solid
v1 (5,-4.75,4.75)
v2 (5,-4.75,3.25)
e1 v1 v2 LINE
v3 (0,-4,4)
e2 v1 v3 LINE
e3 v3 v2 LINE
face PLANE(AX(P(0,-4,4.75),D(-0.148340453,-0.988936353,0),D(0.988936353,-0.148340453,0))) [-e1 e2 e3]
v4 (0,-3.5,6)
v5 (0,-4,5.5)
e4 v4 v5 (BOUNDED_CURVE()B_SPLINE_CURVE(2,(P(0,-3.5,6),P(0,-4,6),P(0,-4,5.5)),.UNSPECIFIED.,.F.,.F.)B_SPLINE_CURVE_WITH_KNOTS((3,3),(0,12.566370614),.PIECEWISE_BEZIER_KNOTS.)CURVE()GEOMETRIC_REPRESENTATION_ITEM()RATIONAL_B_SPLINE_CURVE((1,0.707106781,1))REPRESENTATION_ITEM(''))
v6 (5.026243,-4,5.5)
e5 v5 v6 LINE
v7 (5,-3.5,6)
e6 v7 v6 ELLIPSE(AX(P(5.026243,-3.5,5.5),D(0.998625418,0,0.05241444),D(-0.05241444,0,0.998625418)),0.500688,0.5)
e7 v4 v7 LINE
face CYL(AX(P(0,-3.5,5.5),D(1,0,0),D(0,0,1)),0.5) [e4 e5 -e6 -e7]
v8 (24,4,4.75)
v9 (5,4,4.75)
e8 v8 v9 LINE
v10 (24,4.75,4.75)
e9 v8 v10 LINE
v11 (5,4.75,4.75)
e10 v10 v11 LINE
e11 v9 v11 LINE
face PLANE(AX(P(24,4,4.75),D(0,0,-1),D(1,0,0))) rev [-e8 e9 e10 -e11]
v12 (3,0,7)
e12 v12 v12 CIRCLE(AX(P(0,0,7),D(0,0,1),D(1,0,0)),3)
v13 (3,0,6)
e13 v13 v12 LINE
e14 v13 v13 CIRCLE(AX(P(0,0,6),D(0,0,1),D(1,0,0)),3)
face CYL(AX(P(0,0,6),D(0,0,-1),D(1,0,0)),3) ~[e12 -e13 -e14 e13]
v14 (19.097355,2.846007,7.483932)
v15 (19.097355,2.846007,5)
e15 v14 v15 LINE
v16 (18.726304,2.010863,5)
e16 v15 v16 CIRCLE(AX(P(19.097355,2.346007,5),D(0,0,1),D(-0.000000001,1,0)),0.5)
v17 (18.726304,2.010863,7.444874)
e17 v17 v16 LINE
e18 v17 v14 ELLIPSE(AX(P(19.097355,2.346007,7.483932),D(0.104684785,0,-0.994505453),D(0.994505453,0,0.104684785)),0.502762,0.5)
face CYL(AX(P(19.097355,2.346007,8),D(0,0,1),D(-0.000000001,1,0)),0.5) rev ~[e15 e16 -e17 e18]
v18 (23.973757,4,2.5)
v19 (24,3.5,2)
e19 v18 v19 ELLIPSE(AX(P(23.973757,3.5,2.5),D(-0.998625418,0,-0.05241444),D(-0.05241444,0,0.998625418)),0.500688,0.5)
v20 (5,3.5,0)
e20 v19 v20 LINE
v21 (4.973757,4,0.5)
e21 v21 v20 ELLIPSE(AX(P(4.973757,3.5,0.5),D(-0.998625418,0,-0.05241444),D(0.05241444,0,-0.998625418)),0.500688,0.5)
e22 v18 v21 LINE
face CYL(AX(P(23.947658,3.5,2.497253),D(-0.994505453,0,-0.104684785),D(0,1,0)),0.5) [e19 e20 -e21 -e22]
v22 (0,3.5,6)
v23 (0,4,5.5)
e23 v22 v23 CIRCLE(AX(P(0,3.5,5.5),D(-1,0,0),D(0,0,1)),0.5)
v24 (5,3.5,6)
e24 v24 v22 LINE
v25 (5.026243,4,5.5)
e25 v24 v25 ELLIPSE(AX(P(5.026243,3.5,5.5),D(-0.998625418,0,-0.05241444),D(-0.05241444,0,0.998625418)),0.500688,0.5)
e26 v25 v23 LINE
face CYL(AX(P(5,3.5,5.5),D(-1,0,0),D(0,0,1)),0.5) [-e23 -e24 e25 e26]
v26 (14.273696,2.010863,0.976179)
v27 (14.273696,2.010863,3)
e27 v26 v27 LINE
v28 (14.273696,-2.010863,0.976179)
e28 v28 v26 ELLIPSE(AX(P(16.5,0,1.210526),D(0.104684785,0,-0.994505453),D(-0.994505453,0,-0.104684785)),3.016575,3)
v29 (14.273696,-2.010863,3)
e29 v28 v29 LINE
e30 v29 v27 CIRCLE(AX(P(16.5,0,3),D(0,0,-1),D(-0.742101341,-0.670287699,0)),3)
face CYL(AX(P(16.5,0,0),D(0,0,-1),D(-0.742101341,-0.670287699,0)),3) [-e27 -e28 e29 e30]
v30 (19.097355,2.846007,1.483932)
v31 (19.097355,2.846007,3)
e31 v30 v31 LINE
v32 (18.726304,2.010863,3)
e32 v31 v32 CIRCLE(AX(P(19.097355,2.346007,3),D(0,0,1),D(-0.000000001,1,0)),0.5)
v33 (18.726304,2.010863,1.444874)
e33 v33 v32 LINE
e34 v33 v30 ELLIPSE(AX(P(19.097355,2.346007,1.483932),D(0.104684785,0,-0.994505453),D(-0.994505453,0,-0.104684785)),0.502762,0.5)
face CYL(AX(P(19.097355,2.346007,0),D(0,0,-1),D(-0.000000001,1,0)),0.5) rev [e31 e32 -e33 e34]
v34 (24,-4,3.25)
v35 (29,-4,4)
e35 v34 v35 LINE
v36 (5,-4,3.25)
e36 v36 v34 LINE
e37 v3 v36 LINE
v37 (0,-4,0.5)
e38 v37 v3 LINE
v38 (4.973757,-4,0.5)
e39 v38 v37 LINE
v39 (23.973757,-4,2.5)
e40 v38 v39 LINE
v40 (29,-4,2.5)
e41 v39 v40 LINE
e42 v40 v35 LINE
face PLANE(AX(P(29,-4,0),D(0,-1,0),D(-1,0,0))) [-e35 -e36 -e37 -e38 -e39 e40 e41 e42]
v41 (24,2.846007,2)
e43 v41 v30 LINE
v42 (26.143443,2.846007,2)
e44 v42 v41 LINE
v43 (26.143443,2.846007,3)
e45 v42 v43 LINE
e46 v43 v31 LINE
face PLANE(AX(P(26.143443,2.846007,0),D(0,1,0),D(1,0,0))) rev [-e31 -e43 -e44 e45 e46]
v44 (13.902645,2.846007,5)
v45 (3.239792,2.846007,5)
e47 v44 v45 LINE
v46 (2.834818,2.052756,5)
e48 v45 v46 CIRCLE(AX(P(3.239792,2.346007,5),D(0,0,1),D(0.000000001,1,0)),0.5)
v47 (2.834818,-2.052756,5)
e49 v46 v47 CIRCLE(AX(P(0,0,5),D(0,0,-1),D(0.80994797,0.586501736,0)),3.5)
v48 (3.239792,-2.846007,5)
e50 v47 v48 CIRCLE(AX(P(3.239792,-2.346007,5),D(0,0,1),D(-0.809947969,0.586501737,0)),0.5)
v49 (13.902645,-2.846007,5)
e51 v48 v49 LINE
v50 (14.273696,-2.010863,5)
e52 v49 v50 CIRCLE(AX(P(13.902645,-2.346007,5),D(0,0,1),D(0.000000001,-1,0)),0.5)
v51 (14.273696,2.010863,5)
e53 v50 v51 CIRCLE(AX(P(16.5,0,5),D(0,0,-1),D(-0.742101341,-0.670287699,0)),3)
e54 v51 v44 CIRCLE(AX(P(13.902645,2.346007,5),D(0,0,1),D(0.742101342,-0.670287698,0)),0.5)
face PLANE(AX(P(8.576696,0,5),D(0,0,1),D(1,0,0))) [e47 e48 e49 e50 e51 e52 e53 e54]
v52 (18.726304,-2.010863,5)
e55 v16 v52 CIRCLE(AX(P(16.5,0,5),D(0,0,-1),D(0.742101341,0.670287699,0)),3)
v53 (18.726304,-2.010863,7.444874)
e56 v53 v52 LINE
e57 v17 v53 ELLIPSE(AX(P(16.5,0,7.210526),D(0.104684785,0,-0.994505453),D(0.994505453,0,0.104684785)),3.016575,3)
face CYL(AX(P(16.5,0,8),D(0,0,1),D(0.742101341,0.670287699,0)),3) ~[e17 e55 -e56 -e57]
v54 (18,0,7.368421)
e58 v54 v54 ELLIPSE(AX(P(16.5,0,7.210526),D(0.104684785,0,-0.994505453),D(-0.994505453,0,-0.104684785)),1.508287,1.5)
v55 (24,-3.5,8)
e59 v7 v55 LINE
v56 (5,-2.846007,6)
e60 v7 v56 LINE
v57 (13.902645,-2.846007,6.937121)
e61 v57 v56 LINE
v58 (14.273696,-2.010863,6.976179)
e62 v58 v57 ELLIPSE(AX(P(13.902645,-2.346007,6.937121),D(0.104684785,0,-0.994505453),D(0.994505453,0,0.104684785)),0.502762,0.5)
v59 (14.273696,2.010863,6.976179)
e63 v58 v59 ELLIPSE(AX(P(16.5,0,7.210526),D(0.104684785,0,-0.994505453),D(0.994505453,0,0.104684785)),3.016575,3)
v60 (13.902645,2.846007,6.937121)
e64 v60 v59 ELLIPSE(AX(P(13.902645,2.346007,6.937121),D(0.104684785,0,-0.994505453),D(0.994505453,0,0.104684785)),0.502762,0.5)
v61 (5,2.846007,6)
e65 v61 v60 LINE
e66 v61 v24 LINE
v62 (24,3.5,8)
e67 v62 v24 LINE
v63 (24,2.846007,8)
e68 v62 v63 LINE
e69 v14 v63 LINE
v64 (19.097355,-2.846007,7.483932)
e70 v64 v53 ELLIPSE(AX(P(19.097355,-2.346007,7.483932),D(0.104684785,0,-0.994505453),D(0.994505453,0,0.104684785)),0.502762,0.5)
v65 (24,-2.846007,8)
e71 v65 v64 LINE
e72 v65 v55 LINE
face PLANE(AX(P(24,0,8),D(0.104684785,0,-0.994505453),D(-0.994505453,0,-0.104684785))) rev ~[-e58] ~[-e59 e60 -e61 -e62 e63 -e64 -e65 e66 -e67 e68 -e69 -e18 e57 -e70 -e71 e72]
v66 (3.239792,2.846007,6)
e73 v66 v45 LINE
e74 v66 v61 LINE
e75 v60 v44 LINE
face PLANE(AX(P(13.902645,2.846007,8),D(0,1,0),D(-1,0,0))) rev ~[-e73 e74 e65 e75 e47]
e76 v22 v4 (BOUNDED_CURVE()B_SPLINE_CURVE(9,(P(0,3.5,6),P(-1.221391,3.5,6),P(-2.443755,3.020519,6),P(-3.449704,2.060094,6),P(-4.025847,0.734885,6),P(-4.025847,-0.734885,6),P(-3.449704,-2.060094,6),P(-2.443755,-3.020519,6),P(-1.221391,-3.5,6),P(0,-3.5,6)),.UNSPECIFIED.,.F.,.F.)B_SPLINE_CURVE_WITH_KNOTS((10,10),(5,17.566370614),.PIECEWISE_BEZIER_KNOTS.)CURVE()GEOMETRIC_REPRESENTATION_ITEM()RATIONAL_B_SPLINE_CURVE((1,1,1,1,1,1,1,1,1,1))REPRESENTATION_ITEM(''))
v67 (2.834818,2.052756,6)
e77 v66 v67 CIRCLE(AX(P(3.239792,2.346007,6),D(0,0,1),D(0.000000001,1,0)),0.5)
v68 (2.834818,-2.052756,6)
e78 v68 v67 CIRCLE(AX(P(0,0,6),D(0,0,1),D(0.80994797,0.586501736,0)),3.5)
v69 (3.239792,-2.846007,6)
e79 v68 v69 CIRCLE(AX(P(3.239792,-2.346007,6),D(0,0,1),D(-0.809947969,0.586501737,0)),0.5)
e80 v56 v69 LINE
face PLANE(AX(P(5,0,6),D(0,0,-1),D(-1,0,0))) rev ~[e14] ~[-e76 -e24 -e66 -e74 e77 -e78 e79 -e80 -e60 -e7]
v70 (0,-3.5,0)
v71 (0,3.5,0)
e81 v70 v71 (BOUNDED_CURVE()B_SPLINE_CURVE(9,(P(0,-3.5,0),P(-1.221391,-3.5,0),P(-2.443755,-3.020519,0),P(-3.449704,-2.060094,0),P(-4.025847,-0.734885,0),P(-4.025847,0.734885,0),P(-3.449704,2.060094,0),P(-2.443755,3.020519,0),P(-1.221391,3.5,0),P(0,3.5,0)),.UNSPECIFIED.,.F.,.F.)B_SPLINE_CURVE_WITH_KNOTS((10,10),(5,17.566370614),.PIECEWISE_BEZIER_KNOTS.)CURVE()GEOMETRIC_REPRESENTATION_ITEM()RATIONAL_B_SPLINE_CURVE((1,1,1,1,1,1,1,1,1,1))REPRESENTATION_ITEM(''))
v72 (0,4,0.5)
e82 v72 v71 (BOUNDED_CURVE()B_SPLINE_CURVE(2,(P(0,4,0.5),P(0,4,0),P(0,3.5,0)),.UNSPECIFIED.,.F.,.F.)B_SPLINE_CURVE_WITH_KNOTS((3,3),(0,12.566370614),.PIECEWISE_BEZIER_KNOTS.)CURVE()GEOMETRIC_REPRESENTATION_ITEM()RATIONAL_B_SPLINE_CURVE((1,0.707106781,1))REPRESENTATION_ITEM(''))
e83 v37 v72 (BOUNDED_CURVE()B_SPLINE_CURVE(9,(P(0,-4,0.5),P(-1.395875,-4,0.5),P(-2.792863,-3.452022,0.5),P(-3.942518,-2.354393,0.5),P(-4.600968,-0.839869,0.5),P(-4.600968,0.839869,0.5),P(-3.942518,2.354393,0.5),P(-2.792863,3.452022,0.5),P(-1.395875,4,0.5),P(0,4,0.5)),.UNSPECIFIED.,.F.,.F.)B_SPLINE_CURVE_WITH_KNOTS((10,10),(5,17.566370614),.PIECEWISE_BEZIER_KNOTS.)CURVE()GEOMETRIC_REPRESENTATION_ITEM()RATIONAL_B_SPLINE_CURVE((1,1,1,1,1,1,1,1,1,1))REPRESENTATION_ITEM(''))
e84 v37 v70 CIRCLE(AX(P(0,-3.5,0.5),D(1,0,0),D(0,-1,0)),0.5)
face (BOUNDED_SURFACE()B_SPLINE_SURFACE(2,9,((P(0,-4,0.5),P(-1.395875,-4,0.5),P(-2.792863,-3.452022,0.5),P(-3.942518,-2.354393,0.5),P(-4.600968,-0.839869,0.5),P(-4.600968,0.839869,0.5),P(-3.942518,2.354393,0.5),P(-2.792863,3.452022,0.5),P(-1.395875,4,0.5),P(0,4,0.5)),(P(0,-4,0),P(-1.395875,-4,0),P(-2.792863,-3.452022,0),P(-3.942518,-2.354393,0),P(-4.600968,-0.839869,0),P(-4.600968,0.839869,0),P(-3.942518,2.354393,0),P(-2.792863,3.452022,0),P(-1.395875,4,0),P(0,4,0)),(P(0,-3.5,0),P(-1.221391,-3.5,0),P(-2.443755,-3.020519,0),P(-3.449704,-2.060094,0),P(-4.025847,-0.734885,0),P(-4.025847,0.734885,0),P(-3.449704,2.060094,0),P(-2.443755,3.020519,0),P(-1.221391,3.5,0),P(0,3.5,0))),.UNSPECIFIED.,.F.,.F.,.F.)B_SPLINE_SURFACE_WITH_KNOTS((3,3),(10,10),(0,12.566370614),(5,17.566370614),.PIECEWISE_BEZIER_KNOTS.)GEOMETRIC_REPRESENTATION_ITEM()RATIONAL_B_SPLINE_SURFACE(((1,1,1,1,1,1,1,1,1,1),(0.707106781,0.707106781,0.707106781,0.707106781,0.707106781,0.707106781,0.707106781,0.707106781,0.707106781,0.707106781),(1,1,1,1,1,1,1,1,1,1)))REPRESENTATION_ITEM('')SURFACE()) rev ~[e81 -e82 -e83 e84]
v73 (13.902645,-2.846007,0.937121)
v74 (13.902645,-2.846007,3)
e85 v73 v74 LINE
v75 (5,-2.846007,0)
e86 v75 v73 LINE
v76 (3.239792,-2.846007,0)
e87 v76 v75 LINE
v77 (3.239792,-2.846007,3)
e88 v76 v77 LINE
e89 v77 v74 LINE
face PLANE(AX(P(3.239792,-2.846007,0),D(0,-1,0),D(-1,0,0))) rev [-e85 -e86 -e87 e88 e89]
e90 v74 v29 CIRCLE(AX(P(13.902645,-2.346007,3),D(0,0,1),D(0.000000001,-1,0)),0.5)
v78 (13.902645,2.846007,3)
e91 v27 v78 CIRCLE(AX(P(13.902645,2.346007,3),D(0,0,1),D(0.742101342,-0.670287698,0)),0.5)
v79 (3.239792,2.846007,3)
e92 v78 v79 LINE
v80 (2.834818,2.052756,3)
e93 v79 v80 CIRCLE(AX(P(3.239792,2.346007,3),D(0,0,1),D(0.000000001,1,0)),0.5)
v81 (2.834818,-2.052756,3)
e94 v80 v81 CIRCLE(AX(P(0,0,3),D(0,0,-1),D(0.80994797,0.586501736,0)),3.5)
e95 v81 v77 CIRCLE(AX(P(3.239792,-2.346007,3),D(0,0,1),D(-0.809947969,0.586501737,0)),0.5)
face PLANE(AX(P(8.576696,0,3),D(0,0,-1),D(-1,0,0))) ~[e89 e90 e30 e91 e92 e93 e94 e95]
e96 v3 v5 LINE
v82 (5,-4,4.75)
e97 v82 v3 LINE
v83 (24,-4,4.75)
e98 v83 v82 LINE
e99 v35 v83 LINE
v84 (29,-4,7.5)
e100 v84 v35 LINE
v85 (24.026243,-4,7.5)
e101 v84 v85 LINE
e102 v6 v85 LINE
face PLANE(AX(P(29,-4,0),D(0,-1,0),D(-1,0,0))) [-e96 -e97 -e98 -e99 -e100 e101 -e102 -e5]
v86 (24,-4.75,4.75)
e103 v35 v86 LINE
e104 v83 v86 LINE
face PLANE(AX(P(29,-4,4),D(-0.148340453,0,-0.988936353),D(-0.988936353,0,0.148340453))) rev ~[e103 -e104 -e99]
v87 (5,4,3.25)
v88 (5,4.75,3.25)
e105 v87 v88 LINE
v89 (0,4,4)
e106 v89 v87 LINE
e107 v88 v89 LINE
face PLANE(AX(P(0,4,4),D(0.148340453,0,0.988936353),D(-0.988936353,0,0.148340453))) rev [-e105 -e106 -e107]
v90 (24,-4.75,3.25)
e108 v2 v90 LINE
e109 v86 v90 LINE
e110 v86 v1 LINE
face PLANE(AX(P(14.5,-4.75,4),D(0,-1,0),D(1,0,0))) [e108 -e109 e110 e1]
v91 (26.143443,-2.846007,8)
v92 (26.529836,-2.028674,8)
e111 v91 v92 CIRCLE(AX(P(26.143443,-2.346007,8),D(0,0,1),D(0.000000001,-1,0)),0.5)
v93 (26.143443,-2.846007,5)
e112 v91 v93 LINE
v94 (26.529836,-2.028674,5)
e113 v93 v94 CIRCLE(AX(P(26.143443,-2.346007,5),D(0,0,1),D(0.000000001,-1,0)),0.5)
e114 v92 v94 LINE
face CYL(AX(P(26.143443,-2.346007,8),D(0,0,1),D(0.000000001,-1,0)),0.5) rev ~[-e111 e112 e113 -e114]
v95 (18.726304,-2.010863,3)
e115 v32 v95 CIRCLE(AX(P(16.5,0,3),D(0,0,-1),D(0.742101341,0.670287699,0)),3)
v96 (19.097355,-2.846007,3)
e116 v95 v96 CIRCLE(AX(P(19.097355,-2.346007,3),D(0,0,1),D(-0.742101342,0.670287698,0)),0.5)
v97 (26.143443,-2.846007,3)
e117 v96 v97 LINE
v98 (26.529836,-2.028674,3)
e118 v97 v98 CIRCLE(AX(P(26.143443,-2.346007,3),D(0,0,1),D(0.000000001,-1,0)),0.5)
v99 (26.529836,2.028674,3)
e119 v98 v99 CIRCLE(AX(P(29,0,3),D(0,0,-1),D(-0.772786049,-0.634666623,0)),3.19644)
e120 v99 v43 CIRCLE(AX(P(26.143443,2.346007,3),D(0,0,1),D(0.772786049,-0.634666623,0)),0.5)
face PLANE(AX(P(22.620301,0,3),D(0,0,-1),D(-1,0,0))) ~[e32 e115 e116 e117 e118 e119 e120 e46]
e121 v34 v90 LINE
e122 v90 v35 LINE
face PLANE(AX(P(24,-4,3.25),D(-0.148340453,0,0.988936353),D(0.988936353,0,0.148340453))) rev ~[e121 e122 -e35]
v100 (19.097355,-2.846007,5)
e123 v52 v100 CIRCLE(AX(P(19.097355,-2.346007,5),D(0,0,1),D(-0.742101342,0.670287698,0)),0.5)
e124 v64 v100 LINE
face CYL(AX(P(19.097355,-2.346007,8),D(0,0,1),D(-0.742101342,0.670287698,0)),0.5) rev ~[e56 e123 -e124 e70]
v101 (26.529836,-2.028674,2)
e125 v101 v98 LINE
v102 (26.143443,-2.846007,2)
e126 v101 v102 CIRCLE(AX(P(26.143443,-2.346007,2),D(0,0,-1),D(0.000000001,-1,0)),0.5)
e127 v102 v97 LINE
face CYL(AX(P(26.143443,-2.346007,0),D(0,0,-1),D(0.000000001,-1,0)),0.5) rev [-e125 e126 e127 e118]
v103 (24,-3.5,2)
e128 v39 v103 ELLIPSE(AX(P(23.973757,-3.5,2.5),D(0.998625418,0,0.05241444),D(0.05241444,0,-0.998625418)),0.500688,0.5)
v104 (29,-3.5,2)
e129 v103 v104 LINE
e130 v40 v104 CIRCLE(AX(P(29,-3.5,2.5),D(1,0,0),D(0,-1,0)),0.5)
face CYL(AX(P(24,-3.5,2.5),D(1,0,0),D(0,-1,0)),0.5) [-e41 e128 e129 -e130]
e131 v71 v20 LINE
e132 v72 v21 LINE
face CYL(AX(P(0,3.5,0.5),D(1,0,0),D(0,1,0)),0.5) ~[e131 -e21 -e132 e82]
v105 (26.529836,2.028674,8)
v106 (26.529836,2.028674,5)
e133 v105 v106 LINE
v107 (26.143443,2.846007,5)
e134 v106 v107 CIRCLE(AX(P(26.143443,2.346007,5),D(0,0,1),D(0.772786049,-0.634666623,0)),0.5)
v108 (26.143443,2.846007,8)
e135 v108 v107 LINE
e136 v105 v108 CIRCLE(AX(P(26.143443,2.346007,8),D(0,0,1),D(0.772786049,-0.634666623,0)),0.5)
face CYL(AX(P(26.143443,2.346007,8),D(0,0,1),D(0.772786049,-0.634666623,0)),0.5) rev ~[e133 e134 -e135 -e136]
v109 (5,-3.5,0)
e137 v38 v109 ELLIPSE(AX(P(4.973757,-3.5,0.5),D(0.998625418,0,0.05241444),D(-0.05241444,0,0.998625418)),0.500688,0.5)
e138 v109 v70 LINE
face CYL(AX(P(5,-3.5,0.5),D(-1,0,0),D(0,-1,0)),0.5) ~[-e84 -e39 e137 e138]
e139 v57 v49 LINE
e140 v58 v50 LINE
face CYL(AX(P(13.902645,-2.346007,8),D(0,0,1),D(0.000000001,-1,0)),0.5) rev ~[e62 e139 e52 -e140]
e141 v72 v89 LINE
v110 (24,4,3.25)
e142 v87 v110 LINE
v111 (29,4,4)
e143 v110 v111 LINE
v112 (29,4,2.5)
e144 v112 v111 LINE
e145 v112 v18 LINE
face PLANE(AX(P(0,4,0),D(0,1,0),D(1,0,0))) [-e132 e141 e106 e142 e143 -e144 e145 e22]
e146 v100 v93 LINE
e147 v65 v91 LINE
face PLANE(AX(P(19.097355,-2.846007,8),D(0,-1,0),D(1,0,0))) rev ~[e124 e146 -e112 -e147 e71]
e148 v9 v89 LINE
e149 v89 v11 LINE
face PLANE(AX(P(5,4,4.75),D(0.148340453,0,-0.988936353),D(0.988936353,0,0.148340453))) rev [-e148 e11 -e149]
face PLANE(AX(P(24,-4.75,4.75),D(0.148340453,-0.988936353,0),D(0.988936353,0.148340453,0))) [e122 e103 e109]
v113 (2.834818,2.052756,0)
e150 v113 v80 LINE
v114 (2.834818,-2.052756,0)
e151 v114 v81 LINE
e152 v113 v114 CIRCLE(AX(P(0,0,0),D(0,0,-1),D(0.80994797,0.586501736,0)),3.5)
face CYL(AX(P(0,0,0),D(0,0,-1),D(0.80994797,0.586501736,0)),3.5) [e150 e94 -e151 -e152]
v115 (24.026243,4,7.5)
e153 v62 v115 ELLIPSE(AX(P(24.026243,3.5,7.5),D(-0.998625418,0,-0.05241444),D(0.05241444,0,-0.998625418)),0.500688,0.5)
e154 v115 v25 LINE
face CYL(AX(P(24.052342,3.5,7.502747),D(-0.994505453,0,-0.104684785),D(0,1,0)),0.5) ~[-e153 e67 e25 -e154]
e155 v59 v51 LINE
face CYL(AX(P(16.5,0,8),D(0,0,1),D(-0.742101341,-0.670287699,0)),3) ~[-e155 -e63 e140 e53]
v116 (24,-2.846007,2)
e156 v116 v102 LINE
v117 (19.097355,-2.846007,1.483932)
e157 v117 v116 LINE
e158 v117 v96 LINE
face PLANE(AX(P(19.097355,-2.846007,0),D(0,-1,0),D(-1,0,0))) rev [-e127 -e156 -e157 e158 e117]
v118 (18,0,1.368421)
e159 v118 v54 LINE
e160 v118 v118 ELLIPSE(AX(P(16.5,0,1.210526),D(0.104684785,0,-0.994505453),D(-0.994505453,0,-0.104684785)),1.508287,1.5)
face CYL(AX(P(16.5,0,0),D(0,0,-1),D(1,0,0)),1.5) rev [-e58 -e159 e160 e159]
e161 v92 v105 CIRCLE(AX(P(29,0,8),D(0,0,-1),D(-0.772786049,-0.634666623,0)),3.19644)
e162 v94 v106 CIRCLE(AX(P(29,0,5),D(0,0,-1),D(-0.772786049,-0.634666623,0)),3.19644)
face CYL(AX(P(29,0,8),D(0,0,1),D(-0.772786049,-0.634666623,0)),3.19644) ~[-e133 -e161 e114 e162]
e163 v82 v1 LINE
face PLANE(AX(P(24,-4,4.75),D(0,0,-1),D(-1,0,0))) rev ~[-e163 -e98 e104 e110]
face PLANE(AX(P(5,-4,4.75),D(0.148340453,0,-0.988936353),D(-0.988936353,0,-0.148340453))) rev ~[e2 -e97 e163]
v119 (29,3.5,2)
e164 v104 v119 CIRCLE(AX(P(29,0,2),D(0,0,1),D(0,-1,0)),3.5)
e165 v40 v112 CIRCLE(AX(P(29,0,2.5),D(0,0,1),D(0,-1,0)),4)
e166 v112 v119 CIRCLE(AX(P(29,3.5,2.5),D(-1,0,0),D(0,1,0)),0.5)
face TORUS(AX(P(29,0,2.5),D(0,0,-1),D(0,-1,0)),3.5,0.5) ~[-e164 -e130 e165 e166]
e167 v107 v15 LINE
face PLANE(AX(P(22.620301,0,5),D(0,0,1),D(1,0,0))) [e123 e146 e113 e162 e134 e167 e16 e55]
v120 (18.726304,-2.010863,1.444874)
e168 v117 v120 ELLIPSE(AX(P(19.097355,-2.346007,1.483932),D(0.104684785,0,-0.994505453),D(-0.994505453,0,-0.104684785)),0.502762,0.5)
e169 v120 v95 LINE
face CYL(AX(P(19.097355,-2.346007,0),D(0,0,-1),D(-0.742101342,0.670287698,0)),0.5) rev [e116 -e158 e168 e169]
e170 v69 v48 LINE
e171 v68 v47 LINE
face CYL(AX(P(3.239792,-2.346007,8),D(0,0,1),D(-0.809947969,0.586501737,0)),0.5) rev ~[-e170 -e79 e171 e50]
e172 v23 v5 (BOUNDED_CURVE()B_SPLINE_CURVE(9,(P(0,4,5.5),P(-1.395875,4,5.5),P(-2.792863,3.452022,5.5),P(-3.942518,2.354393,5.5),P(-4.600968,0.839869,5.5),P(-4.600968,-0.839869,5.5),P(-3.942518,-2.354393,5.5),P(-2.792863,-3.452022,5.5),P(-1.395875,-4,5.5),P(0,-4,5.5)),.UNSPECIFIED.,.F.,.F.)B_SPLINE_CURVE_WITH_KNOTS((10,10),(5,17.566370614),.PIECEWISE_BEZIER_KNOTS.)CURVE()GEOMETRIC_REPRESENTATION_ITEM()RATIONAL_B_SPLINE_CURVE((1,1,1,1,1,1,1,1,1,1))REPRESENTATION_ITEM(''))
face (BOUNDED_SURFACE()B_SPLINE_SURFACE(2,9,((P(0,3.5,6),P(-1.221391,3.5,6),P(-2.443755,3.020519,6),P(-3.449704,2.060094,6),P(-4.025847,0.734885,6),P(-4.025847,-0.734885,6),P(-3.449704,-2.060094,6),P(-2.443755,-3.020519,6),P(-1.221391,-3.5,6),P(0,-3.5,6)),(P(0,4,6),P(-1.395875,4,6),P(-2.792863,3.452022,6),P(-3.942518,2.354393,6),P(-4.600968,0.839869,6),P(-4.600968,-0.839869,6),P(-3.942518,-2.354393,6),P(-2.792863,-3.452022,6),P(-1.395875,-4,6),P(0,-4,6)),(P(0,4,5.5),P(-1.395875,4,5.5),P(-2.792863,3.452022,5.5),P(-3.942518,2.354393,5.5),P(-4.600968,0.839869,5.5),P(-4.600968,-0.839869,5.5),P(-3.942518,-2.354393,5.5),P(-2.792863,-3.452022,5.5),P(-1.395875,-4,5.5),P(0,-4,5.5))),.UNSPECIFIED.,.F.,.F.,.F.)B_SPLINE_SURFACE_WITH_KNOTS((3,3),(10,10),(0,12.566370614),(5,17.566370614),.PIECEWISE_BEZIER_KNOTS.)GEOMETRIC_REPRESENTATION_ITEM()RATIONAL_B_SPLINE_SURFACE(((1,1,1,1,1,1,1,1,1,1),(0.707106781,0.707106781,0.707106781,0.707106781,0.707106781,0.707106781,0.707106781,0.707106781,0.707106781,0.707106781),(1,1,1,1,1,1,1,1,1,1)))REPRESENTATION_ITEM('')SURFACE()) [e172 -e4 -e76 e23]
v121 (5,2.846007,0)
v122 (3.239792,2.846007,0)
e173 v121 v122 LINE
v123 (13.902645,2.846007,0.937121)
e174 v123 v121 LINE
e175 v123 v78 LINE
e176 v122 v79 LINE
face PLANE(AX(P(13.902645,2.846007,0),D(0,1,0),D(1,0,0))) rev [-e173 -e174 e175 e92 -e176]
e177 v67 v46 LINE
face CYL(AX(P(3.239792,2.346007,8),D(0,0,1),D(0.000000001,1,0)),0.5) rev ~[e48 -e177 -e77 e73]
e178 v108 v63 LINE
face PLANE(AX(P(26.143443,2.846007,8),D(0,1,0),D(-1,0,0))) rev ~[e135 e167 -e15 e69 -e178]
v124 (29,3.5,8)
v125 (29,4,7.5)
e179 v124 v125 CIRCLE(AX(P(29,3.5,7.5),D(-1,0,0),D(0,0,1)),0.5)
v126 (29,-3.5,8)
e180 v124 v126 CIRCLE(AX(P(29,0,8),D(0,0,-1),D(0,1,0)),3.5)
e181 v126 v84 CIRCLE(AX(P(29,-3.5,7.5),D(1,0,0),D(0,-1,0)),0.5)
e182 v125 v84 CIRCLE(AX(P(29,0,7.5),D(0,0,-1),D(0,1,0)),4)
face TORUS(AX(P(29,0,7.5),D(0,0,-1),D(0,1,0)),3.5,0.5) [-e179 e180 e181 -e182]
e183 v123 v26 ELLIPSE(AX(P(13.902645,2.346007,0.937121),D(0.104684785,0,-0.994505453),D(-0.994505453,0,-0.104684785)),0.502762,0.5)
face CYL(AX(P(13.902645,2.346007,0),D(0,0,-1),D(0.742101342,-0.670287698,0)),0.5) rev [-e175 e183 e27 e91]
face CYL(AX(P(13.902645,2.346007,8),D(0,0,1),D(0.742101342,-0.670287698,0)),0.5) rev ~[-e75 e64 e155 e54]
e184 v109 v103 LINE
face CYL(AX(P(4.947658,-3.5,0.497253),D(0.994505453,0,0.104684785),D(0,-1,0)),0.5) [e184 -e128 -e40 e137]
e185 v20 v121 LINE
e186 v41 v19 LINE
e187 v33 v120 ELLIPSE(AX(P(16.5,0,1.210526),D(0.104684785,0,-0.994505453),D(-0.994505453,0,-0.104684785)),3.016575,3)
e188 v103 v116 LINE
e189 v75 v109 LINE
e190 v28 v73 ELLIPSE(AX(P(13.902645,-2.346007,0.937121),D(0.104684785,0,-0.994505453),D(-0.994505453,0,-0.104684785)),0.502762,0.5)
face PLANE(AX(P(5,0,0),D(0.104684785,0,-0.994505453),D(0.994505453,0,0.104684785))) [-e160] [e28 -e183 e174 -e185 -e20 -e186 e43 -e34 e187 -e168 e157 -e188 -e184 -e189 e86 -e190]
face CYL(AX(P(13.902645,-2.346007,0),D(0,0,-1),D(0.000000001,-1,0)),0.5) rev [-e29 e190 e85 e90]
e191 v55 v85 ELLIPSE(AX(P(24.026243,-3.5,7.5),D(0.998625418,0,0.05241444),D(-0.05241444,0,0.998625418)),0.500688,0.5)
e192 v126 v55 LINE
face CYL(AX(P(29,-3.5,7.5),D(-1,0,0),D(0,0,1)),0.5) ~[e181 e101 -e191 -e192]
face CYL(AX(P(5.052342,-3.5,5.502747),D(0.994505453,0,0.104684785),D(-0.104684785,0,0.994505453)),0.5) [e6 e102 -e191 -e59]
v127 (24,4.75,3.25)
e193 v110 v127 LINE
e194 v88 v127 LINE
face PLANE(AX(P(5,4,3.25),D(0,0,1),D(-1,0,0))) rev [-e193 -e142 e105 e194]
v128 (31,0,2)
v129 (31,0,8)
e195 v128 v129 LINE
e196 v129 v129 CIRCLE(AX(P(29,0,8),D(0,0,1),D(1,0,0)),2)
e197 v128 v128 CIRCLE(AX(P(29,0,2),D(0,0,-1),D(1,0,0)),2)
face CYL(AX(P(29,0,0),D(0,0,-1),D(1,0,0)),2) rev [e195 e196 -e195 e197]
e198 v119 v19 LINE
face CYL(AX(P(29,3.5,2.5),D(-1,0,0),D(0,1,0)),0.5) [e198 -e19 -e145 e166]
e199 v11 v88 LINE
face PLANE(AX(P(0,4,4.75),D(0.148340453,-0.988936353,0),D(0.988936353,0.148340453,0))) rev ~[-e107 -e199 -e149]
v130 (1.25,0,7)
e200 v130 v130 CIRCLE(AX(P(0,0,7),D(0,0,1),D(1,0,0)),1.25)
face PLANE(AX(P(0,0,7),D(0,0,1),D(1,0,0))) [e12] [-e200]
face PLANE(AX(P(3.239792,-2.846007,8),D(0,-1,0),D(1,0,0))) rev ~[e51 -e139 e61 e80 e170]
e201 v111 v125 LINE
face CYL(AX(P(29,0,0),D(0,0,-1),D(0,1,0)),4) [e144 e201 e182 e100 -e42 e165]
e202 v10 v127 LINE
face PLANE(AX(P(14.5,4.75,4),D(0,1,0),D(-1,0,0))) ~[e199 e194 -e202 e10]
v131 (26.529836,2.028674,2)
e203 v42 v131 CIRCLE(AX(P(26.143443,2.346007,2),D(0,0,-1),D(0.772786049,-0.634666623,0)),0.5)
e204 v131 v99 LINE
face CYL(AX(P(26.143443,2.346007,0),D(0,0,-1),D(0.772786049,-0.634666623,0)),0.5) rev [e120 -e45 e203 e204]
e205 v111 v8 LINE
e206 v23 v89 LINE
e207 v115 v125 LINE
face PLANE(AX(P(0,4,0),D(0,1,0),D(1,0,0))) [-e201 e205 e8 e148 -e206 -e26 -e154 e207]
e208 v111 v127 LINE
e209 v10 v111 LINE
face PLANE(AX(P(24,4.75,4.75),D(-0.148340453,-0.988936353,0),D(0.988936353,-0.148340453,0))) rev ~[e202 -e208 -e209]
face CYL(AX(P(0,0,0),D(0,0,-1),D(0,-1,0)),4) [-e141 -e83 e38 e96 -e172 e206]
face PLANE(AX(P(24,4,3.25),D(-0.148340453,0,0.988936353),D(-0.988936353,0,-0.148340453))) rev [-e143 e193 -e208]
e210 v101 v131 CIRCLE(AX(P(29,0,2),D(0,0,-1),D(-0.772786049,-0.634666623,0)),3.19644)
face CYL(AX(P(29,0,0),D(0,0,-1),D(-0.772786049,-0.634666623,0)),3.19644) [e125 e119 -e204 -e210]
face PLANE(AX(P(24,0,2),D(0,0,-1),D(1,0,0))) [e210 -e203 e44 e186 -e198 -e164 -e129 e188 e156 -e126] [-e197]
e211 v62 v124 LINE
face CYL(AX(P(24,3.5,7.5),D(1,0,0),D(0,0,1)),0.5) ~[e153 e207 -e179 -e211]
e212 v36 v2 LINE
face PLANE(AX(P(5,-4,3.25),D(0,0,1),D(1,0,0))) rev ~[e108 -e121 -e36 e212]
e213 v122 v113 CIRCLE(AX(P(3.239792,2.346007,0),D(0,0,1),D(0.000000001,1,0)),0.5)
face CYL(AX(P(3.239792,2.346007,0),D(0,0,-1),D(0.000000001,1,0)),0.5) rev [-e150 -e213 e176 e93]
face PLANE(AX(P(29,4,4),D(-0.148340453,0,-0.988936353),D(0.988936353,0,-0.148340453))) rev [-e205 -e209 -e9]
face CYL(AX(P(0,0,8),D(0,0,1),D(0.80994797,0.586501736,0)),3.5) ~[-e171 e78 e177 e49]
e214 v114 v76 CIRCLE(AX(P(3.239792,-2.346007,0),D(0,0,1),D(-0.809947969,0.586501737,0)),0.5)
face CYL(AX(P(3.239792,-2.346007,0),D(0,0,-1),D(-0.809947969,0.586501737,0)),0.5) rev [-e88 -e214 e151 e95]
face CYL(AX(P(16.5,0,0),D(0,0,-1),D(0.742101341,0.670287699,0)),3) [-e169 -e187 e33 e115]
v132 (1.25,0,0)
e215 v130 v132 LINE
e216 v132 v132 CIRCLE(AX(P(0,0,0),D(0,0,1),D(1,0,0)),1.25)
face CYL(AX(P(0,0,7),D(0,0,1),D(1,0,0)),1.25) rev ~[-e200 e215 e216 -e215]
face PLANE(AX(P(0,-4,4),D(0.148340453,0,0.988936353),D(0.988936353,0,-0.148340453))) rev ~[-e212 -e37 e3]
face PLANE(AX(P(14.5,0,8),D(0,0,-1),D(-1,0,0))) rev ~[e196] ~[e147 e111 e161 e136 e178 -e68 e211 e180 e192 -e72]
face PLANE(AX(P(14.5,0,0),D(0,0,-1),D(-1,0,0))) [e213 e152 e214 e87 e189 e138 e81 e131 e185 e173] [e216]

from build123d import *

# Parameters (mm, degrees)
ESQUISSE1_R             = 2
ESQUISSE1_R_2           = 1.5
BASE_EXTRUSION_DEPTH    = 8
ENL_V_MAT_EXTRU_1_DEPTH = 24
ENL_V_MAT_EXTRU_2_DEPTH = 3
BOSS_EXTRU_2_DEPTH      = 0.75
ENL_V_MAT_EXTRU_3_DEPTH = 5.75
CONG_1_R                = 0.5
ESQUISSE9_R             = 3
BOSS_EXTRU_3_DEPTH      = 1
ESQUISSE10_R            = 1.25
ENL_V_MAT_EXTRU_4_DEPTH = 8


with BuildPart() as part:
    # Esquisse1 → Base-Extrusion (new body)
    with BuildSketch(Plane.XY):
        with BuildLine():
            Line((0, 4), (29, 4))
            ThreePointArc((29, 4), (33, 0), (29, -4))
            Line((29, -4), (0, -4))
            ThreePointArc((0, -4), (-4, 0), (0, 4))
        make_face()
        with Locations((29, 0)):
            Circle(ESQUISSE1_R, mode=Mode.SUBTRACT)
        with Locations((16.5, 0)):
            Circle(ESQUISSE1_R_2, mode=Mode.SUBTRACT)
    extrude(amount=BASE_EXTRUSION_DEPTH)

    # Esquisse2 → Enlèv. mat.-Extru.1 (cut, symmetric)
    with BuildSketch(Plane(origin=(0, 0, 0), x_dir=(1, 0, 0), z_dir=(0, 1, 0))):
        Polygon((-4, 0), (5, 0), (24, -2), (32, -2), (34, -2), (34, 2), (-5, 2), (-5, 0), align=None)
        Polygon((30, -8), (24, -8), (5, -6), (-5, -6), (-5, -9), (35, -9), (35, -8), align=None)
    extrude(amount=ENL_V_MAT_EXTRU_1_DEPTH, both=True, mode=Mode.SUBTRACT)

    # Esquisse3 → Enlèv. mat.-Extru.2 (cut)
    with BuildSketch(Plane.XY.offset(8)):
        with BuildLine():
            Line((26.143442915, 2.846006946), (19.097354695, 2.846006946))
            ThreePointArc((19.097354695, 2.846006946), (18.640423669, 2.549019353), (18.726304024, 2.010863096))
            ThreePointArc((18.726304024, 2.010863096), (19.5, 0), (18.726304024, -2.010863096))
            ThreePointArc((18.726304024, -2.010863096), (18.640423669, -2.549019353), (19.097354695, -2.846006946))
            Line((19.097354695, -2.846006946), (26.143442915, -2.846006946))
            ThreePointArc((26.143442915, -2.846006946), (26.595475356, -2.559704564), (26.529835939, -2.028673634))
            ThreePointArc((26.529835939, -2.028673634), (25.80356023, 0), (26.529835939, 2.028673634))
            ThreePointArc((26.529835939, 2.028673634), (26.595475356, 2.559704564), (26.143442915, 2.846006946))
        make_face()
        with BuildLine():
            Line((13.902645305, 2.846006946), (3.239791878, 2.846006946))
            ThreePointArc((3.239791878, 2.846006946), (2.794468717, 2.573355319), (2.834817893, 2.052756078))
            ThreePointArc((2.834817893, 2.052756078), (3.5, 0), (2.834817893, -2.052756078))
            ThreePointArc((2.834817893, -2.052756078), (2.794468717, -2.573355319), (3.239791878, -2.846006946))
            Line((3.239791878, -2.846006946), (13.902645305, -2.846006946))
            ThreePointArc((13.902645305, -2.846006946), (14.359576331, -2.549019353), (14.273695976, -2.010863096))
            ThreePointArc((14.273695976, -2.010863096), (13.5, 0), (14.273695976, 2.010863096))
            ThreePointArc((14.273695976, 2.010863096), (14.359576331, 2.549019353), (13.902645305, 2.846006946))
        make_face()
    enl_v_mat_extru_2 = extrude(amount=-ENL_V_MAT_EXTRU_2_DEPTH, mode=Mode.SUBTRACT)

    # Symétrie1: Enlèv. mat.-Extru.2 across plane
    add(enl_v_mat_extru_2.mirror(Plane(origin=(0, 0, 4), x_dir=(1, 0, 0), z_dir=(0, 0, -1))), mode=Mode.SUBTRACT)

    # Esquisse7 → Boss.-Extru.2 (add)
    with BuildSketch(Plane.XZ.offset(4)):
        Polygon((5, 3.25), (24, 3.25), (29, 4), (24, 4.75), (5, 4.75), (0, 4), align=None)
    boss_extru_2 = extrude(amount=BOSS_EXTRU_2_DEPTH)

    # Symétrie2: Boss.-Extru.2 across plane
    add(boss_extru_2.mirror(Plane.ZX))

    # Esquisse8 → Enlèv. mat.-Extru.3 (cut, through all)
    with BuildSketch(Plane.XY.offset(4.75)):
        Polygon((0, 4), (5, 4.75), (5, 7), (0, 7), align=None)
        Polygon((24, 4.75), (29, 4), (29, 7), (24, 7), align=None)
        Polygon((29, -7), (24, -7), (24, -4.75), (29, -4), align=None)
        Polygon((5, -4.75), (5, -7), (0, -7), (0, -4), align=None)
    extrude(amount=-ENL_V_MAT_EXTRU_3_DEPTH, mode=Mode.SUBTRACT)

    # Congé1
    cong_1_edges = [part.edges().sort_by_distance(p)[0] for p in [
        (26.5, -4, 2),
        (14.5, -4, 1),
        (2.5, -4, 0),
        (33, 0, 2),
        (33, 0, 8),
        (26.5, -4, 8),
        (14.5, -4, 7),
        (2.5, -4, 6),
        (2.5, 4, 6),
        (-4, 0, 6),
        (14.5, 4, 7),
        (26.5, 4, 8),
        (2.5, 4, 0),
        (14.5, 4, 1),
        (26.5, 4, 2),
        (-4, 0, 0),
    ]]
    fillet(cong_1_edges, radius=CONG_1_R)

    # Esquisse9 → Boss.-Extru.3 (add)
    with BuildSketch(Plane.XY.offset(6)):
        Circle(ESQUISSE9_R)
    extrude(amount=BOSS_EXTRU_3_DEPTH)

    # Esquisse10 → Enlèv. mat.-Extru.4 (cut, through all)
    with BuildSketch(Plane.XY.offset(7)):
        Circle(ESQUISSE10_R)
    extrude(amount=-ENL_V_MAT_EXTRU_4_DEPTH, mode=Mode.SUBTRACT)


solid = part.part
